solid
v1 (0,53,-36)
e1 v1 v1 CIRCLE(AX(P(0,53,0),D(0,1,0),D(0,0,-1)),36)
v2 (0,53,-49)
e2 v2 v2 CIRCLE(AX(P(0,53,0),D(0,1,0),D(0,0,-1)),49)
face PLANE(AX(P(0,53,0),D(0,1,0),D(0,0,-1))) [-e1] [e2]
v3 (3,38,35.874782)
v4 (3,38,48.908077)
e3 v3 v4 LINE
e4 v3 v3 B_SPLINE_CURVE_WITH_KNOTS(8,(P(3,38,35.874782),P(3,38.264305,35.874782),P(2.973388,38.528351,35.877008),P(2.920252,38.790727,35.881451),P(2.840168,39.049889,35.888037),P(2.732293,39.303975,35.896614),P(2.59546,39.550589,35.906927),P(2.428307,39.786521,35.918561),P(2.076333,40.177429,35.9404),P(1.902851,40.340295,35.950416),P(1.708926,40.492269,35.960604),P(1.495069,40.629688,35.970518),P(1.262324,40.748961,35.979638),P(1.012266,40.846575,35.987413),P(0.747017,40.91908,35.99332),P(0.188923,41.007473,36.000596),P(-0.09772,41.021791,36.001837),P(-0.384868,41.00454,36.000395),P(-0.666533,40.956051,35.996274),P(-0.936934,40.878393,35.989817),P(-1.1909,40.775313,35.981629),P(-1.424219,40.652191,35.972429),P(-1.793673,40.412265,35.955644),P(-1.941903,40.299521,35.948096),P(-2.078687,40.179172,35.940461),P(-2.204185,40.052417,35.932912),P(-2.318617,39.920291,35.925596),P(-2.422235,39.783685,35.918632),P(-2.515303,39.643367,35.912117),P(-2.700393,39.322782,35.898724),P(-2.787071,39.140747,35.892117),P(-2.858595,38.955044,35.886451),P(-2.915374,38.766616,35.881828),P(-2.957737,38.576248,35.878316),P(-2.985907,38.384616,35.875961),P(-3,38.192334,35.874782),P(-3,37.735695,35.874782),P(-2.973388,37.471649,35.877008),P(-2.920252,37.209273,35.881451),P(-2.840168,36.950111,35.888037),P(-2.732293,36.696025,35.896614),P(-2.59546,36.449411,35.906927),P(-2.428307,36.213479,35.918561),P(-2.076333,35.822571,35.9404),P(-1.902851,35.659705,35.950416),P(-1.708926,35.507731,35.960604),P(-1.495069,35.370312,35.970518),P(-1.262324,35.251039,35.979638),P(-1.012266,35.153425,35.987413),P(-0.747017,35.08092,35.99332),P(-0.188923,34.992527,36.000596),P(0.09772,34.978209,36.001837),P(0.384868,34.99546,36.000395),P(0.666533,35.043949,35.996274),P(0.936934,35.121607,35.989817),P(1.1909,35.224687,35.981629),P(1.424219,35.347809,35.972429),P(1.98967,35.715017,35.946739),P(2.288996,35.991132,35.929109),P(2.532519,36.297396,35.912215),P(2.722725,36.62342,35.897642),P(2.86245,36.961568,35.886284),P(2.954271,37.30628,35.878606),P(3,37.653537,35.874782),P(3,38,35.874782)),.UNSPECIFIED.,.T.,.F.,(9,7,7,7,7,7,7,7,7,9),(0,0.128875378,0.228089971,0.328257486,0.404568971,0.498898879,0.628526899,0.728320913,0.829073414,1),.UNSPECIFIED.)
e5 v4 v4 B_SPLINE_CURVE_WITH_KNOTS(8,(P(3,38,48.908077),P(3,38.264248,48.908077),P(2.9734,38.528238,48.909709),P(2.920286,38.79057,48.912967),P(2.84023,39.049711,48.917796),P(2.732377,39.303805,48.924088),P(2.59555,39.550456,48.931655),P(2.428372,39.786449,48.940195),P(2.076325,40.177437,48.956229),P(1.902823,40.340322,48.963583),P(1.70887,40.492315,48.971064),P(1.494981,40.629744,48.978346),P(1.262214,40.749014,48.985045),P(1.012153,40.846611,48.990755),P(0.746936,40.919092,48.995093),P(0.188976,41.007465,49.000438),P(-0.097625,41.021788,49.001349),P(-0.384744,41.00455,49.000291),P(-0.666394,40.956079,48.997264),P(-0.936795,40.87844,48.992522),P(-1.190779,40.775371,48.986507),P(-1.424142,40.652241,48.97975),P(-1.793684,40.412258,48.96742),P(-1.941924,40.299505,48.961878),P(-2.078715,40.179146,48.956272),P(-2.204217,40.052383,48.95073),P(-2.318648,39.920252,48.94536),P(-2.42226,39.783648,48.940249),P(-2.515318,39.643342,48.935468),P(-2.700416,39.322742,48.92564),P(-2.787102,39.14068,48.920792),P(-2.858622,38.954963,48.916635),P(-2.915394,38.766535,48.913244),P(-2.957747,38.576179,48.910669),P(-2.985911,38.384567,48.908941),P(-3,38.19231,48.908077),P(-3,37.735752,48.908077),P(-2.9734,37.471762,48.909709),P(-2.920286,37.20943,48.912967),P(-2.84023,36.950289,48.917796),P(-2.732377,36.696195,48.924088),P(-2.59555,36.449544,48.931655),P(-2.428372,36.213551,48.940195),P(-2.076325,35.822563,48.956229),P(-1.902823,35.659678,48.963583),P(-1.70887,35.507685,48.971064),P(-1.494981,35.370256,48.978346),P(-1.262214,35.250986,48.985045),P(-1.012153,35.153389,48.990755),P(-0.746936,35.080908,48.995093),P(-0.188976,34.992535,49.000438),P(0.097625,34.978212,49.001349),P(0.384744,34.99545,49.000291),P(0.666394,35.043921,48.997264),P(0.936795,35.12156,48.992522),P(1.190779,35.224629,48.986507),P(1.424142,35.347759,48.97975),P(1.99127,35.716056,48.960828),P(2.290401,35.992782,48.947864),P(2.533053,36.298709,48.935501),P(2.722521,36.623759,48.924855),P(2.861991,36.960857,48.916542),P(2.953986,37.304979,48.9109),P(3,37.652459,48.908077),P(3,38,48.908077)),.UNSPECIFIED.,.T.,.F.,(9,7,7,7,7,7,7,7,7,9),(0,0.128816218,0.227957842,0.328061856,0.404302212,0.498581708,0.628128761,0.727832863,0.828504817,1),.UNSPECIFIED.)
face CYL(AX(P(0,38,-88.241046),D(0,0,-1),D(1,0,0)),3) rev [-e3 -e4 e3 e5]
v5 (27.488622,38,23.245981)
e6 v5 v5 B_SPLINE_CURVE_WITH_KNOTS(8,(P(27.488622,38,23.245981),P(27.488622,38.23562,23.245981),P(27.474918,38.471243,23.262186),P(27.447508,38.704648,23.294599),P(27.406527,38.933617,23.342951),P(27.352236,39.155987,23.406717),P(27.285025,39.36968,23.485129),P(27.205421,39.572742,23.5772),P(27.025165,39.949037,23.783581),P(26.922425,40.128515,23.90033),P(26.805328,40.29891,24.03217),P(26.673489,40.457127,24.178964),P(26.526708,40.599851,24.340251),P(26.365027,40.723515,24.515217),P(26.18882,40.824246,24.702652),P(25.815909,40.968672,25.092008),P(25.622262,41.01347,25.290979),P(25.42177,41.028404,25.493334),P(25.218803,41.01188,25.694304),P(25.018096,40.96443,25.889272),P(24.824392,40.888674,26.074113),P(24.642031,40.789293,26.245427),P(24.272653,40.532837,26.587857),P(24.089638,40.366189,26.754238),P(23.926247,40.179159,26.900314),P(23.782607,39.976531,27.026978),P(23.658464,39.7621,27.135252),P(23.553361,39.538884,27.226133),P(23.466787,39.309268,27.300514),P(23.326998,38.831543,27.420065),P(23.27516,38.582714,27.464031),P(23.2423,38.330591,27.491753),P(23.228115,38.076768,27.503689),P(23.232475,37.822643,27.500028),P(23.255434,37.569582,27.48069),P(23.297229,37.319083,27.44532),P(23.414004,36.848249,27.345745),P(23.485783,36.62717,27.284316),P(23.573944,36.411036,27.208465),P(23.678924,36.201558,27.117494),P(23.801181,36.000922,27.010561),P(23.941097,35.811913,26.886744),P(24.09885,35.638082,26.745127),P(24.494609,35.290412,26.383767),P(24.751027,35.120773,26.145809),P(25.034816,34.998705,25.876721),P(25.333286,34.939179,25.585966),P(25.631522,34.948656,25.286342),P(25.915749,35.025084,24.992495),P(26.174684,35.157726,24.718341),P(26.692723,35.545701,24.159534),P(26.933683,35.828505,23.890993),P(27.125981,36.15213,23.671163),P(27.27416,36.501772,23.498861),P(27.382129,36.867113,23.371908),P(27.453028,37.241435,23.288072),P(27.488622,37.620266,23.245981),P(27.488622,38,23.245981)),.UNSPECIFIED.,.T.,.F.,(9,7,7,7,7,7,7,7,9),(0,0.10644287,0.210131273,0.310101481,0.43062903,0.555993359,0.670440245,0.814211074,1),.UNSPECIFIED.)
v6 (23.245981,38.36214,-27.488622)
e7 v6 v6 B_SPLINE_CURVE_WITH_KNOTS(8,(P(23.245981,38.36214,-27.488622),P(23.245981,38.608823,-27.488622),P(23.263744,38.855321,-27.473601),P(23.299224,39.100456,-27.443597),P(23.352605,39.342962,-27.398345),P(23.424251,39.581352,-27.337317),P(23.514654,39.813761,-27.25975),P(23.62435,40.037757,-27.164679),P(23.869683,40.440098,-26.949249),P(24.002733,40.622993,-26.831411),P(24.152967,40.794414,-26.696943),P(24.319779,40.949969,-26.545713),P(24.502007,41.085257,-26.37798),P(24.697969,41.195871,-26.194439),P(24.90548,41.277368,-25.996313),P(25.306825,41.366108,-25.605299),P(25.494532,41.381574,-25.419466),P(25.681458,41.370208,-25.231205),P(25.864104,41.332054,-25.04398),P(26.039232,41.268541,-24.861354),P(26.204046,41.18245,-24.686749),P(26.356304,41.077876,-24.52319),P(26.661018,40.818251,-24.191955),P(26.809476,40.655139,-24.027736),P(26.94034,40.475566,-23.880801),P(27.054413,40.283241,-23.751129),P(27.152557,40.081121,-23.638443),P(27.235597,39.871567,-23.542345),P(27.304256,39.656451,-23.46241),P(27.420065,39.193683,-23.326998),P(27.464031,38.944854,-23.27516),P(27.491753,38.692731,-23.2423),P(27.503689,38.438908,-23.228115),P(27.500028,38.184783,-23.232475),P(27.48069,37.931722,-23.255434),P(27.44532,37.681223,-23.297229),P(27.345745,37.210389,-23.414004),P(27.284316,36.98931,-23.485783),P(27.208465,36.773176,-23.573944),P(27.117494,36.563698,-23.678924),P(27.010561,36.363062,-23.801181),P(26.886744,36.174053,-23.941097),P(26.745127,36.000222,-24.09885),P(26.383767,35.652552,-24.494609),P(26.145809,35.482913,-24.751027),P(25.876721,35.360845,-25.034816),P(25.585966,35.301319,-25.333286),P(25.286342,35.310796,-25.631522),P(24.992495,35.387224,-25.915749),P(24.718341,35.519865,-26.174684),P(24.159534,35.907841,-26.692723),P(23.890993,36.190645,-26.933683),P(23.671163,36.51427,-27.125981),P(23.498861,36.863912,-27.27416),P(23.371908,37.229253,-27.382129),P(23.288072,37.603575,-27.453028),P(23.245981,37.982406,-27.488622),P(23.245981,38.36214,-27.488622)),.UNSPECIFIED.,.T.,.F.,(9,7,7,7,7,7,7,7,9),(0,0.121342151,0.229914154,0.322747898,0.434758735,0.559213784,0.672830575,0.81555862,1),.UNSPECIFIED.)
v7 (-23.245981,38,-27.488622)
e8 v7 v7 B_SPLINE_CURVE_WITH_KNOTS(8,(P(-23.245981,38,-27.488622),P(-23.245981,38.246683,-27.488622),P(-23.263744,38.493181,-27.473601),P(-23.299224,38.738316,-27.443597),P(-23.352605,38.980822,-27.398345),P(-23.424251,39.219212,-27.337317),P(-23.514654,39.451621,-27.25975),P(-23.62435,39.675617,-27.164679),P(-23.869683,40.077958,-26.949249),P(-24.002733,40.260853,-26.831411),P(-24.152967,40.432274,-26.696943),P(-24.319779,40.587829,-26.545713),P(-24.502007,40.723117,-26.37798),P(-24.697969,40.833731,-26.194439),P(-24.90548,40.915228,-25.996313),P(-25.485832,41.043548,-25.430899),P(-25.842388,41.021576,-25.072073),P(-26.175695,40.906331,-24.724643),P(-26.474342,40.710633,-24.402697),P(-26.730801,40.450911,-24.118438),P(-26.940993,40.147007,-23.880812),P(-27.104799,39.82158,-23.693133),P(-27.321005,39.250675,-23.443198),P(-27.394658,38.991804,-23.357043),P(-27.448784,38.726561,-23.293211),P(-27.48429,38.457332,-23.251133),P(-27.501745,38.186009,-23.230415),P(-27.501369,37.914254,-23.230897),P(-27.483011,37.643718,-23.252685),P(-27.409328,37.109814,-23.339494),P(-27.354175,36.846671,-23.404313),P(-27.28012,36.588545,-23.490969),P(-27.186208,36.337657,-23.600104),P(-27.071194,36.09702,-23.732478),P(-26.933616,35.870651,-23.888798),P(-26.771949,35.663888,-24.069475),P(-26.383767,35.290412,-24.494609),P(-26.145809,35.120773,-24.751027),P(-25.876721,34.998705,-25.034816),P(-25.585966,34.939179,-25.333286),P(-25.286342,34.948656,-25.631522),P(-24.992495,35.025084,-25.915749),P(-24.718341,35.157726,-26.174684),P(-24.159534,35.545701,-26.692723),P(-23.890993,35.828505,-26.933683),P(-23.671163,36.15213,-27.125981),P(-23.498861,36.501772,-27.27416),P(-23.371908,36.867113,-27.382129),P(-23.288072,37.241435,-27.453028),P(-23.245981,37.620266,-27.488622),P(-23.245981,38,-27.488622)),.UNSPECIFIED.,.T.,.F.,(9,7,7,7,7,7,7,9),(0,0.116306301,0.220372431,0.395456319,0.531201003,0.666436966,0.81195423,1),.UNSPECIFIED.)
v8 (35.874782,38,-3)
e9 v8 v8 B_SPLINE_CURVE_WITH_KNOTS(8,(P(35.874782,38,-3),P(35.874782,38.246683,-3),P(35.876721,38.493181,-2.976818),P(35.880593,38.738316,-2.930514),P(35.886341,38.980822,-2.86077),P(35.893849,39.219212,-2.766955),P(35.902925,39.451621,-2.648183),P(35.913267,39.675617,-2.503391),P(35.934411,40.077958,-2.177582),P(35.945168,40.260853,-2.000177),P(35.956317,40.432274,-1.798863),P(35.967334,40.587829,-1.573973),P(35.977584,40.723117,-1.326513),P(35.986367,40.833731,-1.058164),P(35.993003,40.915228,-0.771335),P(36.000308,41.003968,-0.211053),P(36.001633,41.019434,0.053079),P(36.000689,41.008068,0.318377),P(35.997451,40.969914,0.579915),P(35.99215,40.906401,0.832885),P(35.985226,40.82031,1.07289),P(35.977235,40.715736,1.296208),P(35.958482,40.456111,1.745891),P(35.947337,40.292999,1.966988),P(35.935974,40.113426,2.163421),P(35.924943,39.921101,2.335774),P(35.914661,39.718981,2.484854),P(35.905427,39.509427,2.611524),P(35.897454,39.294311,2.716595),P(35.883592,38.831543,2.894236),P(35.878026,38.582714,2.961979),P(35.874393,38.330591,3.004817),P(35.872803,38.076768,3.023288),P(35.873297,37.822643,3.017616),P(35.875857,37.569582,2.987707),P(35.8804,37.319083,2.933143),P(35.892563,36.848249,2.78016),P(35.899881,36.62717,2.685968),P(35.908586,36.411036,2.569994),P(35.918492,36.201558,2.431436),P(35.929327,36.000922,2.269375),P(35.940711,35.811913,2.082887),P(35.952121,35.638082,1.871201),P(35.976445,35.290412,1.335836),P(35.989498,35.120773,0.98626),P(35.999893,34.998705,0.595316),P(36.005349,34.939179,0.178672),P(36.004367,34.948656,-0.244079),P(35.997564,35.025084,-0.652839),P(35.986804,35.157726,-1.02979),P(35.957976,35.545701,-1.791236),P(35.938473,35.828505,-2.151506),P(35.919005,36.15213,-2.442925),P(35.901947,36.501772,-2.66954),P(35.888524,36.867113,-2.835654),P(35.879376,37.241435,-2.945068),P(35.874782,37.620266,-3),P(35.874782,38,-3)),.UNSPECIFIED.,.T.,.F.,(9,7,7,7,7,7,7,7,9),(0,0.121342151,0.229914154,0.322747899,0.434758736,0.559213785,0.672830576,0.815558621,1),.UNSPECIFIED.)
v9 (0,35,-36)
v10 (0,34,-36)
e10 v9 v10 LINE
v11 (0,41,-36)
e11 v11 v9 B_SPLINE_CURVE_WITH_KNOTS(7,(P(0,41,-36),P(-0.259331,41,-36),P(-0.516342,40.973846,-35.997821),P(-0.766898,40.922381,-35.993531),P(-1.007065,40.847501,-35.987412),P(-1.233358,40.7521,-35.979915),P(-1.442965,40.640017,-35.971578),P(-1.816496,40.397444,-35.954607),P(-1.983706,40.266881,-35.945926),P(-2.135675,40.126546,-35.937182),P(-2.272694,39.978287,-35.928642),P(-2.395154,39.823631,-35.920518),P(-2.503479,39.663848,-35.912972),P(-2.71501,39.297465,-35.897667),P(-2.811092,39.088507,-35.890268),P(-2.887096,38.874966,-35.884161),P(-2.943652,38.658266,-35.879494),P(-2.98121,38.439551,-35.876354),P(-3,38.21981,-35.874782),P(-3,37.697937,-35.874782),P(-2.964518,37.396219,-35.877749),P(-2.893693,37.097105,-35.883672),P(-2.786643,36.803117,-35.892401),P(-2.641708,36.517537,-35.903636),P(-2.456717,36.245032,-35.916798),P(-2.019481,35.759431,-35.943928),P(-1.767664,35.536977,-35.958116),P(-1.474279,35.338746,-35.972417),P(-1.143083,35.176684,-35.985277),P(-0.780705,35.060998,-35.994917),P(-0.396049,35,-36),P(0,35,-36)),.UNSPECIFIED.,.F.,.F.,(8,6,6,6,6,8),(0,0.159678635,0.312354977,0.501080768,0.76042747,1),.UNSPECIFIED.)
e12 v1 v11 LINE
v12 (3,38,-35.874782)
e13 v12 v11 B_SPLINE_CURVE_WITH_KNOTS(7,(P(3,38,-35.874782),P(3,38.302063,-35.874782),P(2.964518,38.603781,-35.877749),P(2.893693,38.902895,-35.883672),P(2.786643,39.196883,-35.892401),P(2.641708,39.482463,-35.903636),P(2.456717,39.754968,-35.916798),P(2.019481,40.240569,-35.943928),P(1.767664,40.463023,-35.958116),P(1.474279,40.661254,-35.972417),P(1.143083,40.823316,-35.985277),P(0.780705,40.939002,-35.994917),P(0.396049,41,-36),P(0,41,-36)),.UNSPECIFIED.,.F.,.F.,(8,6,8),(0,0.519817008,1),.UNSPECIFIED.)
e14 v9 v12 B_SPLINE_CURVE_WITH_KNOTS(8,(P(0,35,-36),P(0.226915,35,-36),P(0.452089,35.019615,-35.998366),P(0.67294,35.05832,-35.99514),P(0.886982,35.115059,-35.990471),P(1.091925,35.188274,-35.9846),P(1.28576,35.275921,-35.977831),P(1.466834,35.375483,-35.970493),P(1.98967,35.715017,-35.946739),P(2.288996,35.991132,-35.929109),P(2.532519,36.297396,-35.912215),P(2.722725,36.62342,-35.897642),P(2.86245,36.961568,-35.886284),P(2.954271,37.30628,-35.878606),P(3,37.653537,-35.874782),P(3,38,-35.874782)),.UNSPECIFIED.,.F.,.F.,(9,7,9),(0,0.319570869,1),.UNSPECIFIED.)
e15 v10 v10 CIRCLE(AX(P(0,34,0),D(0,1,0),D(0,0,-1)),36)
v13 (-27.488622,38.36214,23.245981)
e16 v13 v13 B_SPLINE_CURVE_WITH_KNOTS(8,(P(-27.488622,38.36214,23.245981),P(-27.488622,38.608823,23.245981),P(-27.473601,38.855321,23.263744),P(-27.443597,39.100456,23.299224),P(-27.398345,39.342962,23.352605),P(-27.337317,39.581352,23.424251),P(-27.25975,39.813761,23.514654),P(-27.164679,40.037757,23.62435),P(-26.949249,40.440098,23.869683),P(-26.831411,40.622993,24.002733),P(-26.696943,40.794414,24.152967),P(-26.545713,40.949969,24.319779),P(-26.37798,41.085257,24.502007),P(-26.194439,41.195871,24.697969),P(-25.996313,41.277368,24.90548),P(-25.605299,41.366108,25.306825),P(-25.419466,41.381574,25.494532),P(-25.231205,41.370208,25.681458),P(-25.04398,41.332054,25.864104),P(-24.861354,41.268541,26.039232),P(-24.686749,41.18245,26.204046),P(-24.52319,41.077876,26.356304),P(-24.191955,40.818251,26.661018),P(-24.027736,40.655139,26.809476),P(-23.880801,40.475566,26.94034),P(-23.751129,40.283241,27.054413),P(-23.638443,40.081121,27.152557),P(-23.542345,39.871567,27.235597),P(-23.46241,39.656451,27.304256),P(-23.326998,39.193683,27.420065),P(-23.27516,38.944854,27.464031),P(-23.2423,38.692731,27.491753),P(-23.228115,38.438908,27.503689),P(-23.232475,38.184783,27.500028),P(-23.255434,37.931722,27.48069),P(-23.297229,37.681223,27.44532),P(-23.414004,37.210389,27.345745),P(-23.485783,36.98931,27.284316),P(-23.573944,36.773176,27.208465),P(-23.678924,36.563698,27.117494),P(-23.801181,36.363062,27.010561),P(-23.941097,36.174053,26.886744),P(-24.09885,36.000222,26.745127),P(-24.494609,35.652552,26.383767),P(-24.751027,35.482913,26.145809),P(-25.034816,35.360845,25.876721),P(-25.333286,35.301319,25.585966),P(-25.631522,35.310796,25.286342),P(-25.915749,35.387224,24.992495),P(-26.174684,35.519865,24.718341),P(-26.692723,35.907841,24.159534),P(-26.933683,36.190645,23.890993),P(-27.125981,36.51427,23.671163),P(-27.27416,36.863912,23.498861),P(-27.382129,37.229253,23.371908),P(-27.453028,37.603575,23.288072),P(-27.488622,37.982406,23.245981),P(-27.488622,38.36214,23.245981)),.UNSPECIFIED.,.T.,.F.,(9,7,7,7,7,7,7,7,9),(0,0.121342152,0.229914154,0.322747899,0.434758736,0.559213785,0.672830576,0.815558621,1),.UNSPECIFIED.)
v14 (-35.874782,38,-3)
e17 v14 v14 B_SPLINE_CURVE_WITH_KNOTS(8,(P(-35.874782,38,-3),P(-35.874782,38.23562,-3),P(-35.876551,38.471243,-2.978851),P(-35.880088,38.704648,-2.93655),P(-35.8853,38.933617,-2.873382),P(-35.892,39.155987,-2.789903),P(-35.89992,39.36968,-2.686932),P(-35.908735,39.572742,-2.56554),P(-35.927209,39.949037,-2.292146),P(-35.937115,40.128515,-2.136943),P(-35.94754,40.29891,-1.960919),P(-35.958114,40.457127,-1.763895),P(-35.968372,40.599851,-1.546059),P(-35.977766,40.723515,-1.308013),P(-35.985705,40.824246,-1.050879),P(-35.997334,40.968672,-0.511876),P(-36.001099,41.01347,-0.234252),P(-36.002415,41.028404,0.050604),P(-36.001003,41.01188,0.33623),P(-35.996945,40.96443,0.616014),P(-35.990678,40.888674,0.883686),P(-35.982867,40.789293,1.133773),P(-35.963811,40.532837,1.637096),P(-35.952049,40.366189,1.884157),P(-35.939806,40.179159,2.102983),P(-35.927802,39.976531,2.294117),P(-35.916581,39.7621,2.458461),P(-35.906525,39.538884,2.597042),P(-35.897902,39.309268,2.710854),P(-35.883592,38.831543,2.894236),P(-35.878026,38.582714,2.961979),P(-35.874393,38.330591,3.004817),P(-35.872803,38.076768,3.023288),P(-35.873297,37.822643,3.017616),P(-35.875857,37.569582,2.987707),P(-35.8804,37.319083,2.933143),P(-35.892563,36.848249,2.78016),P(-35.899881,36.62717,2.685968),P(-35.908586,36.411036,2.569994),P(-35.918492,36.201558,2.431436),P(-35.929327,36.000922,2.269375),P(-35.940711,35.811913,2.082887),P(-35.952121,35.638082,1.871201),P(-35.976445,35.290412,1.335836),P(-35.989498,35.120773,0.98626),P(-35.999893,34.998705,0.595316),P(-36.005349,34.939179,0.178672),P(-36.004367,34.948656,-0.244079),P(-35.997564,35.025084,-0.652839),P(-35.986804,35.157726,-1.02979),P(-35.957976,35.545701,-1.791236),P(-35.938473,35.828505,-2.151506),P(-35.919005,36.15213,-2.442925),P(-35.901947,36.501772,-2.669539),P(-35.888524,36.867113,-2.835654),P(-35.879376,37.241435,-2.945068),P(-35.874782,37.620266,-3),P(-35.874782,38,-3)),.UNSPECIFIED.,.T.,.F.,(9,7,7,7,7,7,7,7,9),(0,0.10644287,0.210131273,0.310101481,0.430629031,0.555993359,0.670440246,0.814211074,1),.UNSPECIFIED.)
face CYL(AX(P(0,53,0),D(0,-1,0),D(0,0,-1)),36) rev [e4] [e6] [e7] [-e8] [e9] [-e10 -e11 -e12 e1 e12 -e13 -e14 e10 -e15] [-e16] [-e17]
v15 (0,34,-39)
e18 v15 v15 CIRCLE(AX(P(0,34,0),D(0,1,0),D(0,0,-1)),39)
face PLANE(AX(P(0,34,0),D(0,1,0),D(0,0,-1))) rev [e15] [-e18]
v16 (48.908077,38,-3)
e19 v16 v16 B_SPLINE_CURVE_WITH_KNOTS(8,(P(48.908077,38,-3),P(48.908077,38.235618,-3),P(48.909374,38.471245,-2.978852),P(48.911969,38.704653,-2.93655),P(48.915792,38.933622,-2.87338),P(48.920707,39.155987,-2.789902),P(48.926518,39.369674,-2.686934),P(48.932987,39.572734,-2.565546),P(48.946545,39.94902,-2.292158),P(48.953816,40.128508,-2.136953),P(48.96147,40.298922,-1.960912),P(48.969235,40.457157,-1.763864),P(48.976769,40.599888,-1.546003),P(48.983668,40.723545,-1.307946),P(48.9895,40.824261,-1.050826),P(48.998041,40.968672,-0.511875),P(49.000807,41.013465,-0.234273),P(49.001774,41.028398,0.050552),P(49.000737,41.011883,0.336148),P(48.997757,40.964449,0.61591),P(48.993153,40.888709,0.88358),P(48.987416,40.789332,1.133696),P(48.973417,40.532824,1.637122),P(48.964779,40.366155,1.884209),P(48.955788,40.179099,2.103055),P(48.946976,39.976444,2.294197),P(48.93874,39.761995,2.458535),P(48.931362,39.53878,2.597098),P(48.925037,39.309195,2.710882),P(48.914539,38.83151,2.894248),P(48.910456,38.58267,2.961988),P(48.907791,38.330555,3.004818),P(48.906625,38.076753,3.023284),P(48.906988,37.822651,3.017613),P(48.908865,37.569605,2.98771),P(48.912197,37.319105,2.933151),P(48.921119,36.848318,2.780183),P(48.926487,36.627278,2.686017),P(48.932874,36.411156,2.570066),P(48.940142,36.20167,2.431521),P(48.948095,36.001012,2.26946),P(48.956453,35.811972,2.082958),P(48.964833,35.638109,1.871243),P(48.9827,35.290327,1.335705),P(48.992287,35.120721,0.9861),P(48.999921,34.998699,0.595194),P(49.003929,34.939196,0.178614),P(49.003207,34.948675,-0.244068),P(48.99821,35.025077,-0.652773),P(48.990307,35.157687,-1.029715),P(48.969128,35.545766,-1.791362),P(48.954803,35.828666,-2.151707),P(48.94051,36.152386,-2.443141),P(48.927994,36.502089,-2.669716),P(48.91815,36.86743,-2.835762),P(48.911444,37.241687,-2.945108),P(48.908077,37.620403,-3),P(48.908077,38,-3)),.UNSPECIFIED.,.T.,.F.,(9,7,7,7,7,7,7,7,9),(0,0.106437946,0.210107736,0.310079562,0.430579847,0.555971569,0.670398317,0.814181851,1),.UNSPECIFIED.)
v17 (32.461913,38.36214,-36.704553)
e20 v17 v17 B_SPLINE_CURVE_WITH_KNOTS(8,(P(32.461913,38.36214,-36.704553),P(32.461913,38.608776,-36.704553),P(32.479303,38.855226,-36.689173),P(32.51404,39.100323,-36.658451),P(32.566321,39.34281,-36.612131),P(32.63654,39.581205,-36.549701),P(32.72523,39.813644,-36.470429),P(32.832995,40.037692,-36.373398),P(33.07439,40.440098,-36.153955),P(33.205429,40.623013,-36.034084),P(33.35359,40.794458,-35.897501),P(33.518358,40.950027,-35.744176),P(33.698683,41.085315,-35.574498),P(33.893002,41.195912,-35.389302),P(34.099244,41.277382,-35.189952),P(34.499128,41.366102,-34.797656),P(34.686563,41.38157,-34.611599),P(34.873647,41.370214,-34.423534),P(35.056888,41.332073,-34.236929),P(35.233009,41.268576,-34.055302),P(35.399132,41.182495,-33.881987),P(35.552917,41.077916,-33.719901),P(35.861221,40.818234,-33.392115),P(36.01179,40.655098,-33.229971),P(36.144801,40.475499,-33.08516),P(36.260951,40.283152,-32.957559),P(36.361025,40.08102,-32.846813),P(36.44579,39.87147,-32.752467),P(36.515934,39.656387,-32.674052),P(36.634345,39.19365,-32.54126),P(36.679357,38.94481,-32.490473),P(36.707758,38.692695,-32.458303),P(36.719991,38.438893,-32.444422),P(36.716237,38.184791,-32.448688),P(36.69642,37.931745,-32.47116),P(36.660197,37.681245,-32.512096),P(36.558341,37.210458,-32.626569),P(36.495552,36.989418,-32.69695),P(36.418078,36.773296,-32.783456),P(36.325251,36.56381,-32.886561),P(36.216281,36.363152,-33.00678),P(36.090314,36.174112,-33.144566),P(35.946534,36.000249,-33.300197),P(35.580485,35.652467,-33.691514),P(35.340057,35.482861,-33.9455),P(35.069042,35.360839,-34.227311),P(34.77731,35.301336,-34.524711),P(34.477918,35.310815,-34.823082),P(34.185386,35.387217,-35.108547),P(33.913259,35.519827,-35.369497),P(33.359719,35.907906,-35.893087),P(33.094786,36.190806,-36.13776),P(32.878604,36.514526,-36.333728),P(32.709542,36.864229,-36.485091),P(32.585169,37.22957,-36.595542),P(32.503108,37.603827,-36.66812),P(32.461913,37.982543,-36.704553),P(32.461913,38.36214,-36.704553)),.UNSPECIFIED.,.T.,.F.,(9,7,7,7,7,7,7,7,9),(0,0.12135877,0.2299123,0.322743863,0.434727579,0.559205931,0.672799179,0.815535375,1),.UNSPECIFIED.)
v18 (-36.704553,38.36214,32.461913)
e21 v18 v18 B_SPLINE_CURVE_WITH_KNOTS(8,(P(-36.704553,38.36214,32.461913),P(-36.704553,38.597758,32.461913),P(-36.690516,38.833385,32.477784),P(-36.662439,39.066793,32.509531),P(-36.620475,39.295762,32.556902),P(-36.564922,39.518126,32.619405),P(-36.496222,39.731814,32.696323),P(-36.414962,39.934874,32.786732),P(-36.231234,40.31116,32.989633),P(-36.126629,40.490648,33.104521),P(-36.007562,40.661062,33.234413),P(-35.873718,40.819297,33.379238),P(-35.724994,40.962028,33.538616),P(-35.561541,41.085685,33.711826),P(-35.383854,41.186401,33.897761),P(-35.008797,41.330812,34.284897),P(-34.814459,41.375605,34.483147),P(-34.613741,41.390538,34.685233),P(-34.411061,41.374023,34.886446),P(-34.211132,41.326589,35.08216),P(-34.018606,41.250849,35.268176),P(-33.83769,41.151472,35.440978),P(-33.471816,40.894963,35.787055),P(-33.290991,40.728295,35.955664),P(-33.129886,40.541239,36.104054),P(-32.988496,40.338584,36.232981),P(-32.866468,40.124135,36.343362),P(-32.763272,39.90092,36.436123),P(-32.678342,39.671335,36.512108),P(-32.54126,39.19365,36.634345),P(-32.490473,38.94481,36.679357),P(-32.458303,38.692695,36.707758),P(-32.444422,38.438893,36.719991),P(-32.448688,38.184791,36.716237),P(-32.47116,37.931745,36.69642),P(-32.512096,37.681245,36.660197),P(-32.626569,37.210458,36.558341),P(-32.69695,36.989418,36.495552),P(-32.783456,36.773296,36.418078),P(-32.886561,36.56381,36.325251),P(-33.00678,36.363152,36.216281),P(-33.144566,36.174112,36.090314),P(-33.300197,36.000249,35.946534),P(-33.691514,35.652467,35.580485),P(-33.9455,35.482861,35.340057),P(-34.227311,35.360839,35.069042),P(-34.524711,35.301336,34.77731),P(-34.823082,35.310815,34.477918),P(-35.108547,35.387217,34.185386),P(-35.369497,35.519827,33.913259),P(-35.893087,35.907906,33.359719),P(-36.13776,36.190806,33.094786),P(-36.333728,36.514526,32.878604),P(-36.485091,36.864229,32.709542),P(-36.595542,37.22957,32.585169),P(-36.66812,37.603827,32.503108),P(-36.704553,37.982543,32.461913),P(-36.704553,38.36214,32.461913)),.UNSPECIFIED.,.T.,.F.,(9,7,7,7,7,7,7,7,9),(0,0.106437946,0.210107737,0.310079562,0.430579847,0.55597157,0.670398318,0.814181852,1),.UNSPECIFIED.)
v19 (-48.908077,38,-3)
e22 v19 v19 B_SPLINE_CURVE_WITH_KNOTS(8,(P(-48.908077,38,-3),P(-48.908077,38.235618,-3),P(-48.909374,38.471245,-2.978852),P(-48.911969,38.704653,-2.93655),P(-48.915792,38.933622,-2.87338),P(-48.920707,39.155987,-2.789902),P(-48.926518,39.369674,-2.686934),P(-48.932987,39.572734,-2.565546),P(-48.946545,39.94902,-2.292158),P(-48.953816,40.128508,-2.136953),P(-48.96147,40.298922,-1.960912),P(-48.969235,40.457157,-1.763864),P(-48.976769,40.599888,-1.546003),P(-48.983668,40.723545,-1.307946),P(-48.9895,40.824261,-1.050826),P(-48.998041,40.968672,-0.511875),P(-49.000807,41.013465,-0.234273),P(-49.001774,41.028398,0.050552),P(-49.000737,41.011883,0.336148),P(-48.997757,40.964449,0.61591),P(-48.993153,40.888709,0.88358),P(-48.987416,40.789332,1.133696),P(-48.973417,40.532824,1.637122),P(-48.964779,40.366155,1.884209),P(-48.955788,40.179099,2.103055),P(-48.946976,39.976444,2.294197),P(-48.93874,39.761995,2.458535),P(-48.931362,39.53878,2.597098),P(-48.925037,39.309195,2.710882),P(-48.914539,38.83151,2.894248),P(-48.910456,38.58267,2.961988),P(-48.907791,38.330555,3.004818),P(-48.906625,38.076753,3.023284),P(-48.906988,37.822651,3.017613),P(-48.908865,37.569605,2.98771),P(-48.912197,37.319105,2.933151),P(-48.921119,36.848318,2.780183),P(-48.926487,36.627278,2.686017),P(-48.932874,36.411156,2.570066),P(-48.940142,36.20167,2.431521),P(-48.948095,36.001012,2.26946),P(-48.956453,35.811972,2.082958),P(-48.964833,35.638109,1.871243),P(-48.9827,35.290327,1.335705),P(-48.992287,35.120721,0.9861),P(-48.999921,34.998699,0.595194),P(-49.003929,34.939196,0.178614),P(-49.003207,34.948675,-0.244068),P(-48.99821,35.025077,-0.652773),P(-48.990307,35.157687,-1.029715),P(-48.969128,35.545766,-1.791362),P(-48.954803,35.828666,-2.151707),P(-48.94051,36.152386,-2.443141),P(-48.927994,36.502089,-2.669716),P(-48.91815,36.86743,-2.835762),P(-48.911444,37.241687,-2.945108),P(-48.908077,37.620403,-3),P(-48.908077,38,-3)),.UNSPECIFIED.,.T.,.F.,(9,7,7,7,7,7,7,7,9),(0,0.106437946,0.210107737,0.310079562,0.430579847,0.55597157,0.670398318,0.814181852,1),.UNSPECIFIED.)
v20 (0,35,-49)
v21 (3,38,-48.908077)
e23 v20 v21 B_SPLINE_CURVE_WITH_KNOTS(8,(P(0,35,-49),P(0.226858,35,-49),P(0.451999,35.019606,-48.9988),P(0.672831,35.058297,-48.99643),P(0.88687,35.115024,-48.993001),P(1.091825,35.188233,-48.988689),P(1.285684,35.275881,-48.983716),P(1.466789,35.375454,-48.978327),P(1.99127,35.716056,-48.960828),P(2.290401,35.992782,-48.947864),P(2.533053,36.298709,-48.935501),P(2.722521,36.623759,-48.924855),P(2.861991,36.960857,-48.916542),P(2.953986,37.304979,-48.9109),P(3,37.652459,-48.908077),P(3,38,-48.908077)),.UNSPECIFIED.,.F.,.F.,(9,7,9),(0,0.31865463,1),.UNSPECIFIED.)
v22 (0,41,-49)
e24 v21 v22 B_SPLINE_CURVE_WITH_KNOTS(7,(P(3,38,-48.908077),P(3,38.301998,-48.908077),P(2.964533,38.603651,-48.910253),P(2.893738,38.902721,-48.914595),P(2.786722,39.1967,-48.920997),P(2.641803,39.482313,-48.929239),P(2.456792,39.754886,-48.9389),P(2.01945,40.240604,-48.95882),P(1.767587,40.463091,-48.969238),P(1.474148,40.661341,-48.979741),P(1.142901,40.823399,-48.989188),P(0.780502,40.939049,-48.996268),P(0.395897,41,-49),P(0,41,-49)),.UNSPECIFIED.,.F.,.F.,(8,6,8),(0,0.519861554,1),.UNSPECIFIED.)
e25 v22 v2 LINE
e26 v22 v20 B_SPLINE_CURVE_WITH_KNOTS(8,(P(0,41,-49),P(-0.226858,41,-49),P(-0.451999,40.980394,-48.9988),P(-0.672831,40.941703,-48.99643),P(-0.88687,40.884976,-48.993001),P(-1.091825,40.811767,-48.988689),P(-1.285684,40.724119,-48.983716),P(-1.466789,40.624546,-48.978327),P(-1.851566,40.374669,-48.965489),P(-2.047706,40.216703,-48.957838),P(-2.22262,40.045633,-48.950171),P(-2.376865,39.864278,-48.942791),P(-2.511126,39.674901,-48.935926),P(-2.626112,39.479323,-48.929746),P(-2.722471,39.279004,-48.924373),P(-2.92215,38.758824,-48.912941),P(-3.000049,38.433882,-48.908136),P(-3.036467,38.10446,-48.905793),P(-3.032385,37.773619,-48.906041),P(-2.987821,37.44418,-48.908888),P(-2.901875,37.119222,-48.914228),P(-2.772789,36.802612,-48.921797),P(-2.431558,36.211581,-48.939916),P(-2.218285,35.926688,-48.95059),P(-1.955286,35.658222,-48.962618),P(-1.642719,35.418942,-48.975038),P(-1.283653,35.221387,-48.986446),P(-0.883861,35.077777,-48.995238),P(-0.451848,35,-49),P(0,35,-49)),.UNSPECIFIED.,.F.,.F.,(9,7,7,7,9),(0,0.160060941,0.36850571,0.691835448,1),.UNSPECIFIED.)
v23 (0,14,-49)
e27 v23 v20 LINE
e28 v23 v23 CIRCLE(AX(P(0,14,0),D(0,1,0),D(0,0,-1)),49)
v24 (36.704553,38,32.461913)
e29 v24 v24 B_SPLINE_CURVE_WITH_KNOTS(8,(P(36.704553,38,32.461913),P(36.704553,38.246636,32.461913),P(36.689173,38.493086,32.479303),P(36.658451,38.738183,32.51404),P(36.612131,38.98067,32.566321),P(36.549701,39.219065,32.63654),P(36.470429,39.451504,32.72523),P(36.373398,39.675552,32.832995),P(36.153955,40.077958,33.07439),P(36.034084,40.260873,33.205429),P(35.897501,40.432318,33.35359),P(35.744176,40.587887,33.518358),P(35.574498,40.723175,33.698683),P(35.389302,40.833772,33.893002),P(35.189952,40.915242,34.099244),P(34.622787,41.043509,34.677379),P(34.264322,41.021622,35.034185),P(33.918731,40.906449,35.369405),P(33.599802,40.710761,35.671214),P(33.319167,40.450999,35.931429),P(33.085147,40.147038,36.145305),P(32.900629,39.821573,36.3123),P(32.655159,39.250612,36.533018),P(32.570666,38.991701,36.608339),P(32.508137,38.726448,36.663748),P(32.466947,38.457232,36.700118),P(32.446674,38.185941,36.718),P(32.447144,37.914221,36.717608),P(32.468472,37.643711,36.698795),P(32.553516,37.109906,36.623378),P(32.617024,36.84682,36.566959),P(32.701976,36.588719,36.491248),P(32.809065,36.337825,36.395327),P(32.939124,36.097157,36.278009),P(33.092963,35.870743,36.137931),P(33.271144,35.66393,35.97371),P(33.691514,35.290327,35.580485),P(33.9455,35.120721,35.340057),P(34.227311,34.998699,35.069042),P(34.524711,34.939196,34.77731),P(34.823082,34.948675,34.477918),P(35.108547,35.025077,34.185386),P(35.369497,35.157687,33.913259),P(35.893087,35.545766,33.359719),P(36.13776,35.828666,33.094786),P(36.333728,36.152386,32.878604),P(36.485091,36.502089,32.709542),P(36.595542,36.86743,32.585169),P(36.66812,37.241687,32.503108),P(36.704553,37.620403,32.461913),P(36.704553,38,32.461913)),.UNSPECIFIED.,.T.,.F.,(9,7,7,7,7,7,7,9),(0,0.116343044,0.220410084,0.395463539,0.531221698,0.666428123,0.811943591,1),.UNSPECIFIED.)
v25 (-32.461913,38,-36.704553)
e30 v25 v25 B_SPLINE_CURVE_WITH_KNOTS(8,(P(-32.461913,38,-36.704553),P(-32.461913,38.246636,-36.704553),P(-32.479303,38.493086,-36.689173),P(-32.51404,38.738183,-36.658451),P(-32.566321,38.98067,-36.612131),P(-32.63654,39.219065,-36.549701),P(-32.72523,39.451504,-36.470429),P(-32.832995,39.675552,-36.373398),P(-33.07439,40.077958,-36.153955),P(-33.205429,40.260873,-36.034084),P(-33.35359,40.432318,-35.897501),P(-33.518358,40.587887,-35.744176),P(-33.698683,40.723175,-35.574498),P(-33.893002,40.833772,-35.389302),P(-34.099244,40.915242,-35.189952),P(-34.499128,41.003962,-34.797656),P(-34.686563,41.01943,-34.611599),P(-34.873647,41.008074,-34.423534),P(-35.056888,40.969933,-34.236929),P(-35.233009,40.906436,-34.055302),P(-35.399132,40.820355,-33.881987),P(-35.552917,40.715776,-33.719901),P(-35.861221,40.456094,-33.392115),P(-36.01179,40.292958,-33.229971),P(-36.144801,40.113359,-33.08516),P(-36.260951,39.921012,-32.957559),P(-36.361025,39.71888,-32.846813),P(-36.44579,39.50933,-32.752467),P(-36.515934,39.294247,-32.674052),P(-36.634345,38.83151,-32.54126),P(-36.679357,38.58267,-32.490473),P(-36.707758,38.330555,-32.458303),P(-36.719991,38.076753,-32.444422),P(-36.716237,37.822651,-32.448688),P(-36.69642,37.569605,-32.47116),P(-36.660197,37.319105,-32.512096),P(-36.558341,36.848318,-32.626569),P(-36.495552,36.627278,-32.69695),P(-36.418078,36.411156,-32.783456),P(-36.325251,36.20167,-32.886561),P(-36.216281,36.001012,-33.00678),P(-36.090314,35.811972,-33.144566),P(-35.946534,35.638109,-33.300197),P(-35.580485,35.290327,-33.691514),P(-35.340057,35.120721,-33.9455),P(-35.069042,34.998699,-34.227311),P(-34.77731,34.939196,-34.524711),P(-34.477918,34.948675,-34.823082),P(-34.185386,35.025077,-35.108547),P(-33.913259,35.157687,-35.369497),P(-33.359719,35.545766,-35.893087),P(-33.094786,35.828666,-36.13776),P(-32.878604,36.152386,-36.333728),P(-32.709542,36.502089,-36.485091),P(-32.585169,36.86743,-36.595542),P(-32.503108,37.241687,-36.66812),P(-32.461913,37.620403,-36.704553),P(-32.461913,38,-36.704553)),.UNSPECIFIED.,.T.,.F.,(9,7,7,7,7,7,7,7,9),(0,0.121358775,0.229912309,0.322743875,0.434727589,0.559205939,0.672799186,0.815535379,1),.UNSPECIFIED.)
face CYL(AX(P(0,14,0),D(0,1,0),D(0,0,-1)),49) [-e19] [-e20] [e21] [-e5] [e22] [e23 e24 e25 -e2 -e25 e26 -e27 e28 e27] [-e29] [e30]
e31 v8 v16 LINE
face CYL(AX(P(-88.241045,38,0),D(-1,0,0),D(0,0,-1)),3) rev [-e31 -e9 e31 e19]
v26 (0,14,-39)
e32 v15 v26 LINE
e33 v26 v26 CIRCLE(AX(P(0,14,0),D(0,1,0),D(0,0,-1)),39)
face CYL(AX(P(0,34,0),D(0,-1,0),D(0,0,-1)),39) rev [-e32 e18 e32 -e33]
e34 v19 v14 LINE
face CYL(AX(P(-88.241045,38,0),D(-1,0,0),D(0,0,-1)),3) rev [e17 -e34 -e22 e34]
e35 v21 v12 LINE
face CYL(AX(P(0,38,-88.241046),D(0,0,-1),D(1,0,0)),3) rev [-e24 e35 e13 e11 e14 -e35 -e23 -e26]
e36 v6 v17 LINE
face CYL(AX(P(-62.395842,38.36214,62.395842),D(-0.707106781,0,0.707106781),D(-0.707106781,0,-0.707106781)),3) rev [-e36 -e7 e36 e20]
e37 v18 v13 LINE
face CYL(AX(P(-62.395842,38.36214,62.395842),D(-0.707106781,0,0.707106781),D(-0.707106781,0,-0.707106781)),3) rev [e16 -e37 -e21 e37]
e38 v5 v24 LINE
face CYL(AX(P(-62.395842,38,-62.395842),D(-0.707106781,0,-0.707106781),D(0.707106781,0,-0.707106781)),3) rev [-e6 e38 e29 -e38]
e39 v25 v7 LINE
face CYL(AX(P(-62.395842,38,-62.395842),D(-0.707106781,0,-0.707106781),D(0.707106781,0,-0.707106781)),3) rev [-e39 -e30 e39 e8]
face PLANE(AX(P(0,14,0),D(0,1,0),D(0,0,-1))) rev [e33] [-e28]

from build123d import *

# Parameters (mm, degrees)
CORTAR_EXTRUIR1_DEPTH      = 88.241045386
CORTAR_EXTRUIR1_DEPTH_BACK = 88.241045386
CROQUIS2_R                 = 3
CORTAR_EXTRUIR2_DEPTH      = 88.241045559
CORTAR_EXTRUIR2_DEPTH_BACK = 88.241045559
CROQUIS3_R                 = 3
CORTAR_EXTRUIR3_DEPTH      = 88.241045559
CORTAR_EXTRUIR3_DEPTH_BACK = 88.241045559
CROQUIS4_R                 = 3
CORTAR_EXTRUIR4_DEPTH      = 88.241045559
CORTAR_EXTRUIR4_DEPTH_BACK = 88.241045559
CROQUIS5_R                 = 3


with BuildPart() as part:
    # Croquis1 → Revolución1 (revolve)
    with BuildSketch(Plane(origin=(0, 0, 0), x_dir=(0, 0, -1), z_dir=(1, 0, 0)), mode=Mode.PRIVATE) as revoluci_n1_sk:
        Polygon((-49, 53), (-36, 53), (-36, 34), (-39, 34), (-39, 14), (-49, 14), align=None)
    revolve(revoluci_n1_sk.sketch.rotate(Axis((0, 0, 0), (0, 1, 0)), 180), axis=Axis((0, 0, 0), (0, 1, 0)))

    # Croquis2 → Cortar-Extruir1 (cut, two sides: drawn at the far end of the back side and taken through both)
    with BuildSketch(Plane(origin=(0, 0, 0), x_dir=(0, 0, -1), z_dir=(1, 0, 0)).offset(-CORTAR_EXTRUIR1_DEPTH_BACK)):
        with Locations((0, 38)):
            Circle(CROQUIS2_R)
    extrude(amount=CORTAR_EXTRUIR1_DEPTH + CORTAR_EXTRUIR1_DEPTH_BACK, mode=Mode.SUBTRACT)

    # Croquis3 → Cortar-Extruir2 (cut, two sides: drawn at the far end of the back side and taken through both)
    with BuildSketch(Plane.XY.offset(-CORTAR_EXTRUIR2_DEPTH_BACK)):
        with Locations((0, 38)):
            Circle(CROQUIS3_R)
    extrude(amount=CORTAR_EXTRUIR2_DEPTH + CORTAR_EXTRUIR2_DEPTH_BACK, mode=Mode.SUBTRACT)

    # Croquis4 → Cortar-Extruir3 (cut, two sides: drawn at the far end of the back side and taken through both)
    with BuildSketch(Plane(origin=(0, 0, 0), x_dir=(-0.7071067811865477, 0, -0.7071067811865475), z_dir=(0.7071067811865475, 0, -0.7071067811865477)).offset(-CORTAR_EXTRUIR3_DEPTH_BACK)):
        with Locations((0, 38.362139971)):
            Circle(CROQUIS4_R)
    extrude(amount=CORTAR_EXTRUIR3_DEPTH + CORTAR_EXTRUIR3_DEPTH_BACK, mode=Mode.SUBTRACT)

    # Croquis5 → Cortar-Extruir4 (cut, two sides: drawn at the far end of the back side and taken through both)
    with BuildSketch(Plane(origin=(0, 0, 0), x_dir=(0.7071067811865502, 0, -0.7071067811865449), z_dir=(0.7071067811865449, 6.982962677686268e-15, 0.7071067811865502)).offset(-CORTAR_EXTRUIR4_DEPTH_BACK)):
        with Locations((0, 38)):
            Circle(CROQUIS5_R)
    extrude(amount=CORTAR_EXTRUIR4_DEPTH + CORTAR_EXTRUIR4_DEPTH_BACK, mode=Mode.SUBTRACT)


solid = part.part
